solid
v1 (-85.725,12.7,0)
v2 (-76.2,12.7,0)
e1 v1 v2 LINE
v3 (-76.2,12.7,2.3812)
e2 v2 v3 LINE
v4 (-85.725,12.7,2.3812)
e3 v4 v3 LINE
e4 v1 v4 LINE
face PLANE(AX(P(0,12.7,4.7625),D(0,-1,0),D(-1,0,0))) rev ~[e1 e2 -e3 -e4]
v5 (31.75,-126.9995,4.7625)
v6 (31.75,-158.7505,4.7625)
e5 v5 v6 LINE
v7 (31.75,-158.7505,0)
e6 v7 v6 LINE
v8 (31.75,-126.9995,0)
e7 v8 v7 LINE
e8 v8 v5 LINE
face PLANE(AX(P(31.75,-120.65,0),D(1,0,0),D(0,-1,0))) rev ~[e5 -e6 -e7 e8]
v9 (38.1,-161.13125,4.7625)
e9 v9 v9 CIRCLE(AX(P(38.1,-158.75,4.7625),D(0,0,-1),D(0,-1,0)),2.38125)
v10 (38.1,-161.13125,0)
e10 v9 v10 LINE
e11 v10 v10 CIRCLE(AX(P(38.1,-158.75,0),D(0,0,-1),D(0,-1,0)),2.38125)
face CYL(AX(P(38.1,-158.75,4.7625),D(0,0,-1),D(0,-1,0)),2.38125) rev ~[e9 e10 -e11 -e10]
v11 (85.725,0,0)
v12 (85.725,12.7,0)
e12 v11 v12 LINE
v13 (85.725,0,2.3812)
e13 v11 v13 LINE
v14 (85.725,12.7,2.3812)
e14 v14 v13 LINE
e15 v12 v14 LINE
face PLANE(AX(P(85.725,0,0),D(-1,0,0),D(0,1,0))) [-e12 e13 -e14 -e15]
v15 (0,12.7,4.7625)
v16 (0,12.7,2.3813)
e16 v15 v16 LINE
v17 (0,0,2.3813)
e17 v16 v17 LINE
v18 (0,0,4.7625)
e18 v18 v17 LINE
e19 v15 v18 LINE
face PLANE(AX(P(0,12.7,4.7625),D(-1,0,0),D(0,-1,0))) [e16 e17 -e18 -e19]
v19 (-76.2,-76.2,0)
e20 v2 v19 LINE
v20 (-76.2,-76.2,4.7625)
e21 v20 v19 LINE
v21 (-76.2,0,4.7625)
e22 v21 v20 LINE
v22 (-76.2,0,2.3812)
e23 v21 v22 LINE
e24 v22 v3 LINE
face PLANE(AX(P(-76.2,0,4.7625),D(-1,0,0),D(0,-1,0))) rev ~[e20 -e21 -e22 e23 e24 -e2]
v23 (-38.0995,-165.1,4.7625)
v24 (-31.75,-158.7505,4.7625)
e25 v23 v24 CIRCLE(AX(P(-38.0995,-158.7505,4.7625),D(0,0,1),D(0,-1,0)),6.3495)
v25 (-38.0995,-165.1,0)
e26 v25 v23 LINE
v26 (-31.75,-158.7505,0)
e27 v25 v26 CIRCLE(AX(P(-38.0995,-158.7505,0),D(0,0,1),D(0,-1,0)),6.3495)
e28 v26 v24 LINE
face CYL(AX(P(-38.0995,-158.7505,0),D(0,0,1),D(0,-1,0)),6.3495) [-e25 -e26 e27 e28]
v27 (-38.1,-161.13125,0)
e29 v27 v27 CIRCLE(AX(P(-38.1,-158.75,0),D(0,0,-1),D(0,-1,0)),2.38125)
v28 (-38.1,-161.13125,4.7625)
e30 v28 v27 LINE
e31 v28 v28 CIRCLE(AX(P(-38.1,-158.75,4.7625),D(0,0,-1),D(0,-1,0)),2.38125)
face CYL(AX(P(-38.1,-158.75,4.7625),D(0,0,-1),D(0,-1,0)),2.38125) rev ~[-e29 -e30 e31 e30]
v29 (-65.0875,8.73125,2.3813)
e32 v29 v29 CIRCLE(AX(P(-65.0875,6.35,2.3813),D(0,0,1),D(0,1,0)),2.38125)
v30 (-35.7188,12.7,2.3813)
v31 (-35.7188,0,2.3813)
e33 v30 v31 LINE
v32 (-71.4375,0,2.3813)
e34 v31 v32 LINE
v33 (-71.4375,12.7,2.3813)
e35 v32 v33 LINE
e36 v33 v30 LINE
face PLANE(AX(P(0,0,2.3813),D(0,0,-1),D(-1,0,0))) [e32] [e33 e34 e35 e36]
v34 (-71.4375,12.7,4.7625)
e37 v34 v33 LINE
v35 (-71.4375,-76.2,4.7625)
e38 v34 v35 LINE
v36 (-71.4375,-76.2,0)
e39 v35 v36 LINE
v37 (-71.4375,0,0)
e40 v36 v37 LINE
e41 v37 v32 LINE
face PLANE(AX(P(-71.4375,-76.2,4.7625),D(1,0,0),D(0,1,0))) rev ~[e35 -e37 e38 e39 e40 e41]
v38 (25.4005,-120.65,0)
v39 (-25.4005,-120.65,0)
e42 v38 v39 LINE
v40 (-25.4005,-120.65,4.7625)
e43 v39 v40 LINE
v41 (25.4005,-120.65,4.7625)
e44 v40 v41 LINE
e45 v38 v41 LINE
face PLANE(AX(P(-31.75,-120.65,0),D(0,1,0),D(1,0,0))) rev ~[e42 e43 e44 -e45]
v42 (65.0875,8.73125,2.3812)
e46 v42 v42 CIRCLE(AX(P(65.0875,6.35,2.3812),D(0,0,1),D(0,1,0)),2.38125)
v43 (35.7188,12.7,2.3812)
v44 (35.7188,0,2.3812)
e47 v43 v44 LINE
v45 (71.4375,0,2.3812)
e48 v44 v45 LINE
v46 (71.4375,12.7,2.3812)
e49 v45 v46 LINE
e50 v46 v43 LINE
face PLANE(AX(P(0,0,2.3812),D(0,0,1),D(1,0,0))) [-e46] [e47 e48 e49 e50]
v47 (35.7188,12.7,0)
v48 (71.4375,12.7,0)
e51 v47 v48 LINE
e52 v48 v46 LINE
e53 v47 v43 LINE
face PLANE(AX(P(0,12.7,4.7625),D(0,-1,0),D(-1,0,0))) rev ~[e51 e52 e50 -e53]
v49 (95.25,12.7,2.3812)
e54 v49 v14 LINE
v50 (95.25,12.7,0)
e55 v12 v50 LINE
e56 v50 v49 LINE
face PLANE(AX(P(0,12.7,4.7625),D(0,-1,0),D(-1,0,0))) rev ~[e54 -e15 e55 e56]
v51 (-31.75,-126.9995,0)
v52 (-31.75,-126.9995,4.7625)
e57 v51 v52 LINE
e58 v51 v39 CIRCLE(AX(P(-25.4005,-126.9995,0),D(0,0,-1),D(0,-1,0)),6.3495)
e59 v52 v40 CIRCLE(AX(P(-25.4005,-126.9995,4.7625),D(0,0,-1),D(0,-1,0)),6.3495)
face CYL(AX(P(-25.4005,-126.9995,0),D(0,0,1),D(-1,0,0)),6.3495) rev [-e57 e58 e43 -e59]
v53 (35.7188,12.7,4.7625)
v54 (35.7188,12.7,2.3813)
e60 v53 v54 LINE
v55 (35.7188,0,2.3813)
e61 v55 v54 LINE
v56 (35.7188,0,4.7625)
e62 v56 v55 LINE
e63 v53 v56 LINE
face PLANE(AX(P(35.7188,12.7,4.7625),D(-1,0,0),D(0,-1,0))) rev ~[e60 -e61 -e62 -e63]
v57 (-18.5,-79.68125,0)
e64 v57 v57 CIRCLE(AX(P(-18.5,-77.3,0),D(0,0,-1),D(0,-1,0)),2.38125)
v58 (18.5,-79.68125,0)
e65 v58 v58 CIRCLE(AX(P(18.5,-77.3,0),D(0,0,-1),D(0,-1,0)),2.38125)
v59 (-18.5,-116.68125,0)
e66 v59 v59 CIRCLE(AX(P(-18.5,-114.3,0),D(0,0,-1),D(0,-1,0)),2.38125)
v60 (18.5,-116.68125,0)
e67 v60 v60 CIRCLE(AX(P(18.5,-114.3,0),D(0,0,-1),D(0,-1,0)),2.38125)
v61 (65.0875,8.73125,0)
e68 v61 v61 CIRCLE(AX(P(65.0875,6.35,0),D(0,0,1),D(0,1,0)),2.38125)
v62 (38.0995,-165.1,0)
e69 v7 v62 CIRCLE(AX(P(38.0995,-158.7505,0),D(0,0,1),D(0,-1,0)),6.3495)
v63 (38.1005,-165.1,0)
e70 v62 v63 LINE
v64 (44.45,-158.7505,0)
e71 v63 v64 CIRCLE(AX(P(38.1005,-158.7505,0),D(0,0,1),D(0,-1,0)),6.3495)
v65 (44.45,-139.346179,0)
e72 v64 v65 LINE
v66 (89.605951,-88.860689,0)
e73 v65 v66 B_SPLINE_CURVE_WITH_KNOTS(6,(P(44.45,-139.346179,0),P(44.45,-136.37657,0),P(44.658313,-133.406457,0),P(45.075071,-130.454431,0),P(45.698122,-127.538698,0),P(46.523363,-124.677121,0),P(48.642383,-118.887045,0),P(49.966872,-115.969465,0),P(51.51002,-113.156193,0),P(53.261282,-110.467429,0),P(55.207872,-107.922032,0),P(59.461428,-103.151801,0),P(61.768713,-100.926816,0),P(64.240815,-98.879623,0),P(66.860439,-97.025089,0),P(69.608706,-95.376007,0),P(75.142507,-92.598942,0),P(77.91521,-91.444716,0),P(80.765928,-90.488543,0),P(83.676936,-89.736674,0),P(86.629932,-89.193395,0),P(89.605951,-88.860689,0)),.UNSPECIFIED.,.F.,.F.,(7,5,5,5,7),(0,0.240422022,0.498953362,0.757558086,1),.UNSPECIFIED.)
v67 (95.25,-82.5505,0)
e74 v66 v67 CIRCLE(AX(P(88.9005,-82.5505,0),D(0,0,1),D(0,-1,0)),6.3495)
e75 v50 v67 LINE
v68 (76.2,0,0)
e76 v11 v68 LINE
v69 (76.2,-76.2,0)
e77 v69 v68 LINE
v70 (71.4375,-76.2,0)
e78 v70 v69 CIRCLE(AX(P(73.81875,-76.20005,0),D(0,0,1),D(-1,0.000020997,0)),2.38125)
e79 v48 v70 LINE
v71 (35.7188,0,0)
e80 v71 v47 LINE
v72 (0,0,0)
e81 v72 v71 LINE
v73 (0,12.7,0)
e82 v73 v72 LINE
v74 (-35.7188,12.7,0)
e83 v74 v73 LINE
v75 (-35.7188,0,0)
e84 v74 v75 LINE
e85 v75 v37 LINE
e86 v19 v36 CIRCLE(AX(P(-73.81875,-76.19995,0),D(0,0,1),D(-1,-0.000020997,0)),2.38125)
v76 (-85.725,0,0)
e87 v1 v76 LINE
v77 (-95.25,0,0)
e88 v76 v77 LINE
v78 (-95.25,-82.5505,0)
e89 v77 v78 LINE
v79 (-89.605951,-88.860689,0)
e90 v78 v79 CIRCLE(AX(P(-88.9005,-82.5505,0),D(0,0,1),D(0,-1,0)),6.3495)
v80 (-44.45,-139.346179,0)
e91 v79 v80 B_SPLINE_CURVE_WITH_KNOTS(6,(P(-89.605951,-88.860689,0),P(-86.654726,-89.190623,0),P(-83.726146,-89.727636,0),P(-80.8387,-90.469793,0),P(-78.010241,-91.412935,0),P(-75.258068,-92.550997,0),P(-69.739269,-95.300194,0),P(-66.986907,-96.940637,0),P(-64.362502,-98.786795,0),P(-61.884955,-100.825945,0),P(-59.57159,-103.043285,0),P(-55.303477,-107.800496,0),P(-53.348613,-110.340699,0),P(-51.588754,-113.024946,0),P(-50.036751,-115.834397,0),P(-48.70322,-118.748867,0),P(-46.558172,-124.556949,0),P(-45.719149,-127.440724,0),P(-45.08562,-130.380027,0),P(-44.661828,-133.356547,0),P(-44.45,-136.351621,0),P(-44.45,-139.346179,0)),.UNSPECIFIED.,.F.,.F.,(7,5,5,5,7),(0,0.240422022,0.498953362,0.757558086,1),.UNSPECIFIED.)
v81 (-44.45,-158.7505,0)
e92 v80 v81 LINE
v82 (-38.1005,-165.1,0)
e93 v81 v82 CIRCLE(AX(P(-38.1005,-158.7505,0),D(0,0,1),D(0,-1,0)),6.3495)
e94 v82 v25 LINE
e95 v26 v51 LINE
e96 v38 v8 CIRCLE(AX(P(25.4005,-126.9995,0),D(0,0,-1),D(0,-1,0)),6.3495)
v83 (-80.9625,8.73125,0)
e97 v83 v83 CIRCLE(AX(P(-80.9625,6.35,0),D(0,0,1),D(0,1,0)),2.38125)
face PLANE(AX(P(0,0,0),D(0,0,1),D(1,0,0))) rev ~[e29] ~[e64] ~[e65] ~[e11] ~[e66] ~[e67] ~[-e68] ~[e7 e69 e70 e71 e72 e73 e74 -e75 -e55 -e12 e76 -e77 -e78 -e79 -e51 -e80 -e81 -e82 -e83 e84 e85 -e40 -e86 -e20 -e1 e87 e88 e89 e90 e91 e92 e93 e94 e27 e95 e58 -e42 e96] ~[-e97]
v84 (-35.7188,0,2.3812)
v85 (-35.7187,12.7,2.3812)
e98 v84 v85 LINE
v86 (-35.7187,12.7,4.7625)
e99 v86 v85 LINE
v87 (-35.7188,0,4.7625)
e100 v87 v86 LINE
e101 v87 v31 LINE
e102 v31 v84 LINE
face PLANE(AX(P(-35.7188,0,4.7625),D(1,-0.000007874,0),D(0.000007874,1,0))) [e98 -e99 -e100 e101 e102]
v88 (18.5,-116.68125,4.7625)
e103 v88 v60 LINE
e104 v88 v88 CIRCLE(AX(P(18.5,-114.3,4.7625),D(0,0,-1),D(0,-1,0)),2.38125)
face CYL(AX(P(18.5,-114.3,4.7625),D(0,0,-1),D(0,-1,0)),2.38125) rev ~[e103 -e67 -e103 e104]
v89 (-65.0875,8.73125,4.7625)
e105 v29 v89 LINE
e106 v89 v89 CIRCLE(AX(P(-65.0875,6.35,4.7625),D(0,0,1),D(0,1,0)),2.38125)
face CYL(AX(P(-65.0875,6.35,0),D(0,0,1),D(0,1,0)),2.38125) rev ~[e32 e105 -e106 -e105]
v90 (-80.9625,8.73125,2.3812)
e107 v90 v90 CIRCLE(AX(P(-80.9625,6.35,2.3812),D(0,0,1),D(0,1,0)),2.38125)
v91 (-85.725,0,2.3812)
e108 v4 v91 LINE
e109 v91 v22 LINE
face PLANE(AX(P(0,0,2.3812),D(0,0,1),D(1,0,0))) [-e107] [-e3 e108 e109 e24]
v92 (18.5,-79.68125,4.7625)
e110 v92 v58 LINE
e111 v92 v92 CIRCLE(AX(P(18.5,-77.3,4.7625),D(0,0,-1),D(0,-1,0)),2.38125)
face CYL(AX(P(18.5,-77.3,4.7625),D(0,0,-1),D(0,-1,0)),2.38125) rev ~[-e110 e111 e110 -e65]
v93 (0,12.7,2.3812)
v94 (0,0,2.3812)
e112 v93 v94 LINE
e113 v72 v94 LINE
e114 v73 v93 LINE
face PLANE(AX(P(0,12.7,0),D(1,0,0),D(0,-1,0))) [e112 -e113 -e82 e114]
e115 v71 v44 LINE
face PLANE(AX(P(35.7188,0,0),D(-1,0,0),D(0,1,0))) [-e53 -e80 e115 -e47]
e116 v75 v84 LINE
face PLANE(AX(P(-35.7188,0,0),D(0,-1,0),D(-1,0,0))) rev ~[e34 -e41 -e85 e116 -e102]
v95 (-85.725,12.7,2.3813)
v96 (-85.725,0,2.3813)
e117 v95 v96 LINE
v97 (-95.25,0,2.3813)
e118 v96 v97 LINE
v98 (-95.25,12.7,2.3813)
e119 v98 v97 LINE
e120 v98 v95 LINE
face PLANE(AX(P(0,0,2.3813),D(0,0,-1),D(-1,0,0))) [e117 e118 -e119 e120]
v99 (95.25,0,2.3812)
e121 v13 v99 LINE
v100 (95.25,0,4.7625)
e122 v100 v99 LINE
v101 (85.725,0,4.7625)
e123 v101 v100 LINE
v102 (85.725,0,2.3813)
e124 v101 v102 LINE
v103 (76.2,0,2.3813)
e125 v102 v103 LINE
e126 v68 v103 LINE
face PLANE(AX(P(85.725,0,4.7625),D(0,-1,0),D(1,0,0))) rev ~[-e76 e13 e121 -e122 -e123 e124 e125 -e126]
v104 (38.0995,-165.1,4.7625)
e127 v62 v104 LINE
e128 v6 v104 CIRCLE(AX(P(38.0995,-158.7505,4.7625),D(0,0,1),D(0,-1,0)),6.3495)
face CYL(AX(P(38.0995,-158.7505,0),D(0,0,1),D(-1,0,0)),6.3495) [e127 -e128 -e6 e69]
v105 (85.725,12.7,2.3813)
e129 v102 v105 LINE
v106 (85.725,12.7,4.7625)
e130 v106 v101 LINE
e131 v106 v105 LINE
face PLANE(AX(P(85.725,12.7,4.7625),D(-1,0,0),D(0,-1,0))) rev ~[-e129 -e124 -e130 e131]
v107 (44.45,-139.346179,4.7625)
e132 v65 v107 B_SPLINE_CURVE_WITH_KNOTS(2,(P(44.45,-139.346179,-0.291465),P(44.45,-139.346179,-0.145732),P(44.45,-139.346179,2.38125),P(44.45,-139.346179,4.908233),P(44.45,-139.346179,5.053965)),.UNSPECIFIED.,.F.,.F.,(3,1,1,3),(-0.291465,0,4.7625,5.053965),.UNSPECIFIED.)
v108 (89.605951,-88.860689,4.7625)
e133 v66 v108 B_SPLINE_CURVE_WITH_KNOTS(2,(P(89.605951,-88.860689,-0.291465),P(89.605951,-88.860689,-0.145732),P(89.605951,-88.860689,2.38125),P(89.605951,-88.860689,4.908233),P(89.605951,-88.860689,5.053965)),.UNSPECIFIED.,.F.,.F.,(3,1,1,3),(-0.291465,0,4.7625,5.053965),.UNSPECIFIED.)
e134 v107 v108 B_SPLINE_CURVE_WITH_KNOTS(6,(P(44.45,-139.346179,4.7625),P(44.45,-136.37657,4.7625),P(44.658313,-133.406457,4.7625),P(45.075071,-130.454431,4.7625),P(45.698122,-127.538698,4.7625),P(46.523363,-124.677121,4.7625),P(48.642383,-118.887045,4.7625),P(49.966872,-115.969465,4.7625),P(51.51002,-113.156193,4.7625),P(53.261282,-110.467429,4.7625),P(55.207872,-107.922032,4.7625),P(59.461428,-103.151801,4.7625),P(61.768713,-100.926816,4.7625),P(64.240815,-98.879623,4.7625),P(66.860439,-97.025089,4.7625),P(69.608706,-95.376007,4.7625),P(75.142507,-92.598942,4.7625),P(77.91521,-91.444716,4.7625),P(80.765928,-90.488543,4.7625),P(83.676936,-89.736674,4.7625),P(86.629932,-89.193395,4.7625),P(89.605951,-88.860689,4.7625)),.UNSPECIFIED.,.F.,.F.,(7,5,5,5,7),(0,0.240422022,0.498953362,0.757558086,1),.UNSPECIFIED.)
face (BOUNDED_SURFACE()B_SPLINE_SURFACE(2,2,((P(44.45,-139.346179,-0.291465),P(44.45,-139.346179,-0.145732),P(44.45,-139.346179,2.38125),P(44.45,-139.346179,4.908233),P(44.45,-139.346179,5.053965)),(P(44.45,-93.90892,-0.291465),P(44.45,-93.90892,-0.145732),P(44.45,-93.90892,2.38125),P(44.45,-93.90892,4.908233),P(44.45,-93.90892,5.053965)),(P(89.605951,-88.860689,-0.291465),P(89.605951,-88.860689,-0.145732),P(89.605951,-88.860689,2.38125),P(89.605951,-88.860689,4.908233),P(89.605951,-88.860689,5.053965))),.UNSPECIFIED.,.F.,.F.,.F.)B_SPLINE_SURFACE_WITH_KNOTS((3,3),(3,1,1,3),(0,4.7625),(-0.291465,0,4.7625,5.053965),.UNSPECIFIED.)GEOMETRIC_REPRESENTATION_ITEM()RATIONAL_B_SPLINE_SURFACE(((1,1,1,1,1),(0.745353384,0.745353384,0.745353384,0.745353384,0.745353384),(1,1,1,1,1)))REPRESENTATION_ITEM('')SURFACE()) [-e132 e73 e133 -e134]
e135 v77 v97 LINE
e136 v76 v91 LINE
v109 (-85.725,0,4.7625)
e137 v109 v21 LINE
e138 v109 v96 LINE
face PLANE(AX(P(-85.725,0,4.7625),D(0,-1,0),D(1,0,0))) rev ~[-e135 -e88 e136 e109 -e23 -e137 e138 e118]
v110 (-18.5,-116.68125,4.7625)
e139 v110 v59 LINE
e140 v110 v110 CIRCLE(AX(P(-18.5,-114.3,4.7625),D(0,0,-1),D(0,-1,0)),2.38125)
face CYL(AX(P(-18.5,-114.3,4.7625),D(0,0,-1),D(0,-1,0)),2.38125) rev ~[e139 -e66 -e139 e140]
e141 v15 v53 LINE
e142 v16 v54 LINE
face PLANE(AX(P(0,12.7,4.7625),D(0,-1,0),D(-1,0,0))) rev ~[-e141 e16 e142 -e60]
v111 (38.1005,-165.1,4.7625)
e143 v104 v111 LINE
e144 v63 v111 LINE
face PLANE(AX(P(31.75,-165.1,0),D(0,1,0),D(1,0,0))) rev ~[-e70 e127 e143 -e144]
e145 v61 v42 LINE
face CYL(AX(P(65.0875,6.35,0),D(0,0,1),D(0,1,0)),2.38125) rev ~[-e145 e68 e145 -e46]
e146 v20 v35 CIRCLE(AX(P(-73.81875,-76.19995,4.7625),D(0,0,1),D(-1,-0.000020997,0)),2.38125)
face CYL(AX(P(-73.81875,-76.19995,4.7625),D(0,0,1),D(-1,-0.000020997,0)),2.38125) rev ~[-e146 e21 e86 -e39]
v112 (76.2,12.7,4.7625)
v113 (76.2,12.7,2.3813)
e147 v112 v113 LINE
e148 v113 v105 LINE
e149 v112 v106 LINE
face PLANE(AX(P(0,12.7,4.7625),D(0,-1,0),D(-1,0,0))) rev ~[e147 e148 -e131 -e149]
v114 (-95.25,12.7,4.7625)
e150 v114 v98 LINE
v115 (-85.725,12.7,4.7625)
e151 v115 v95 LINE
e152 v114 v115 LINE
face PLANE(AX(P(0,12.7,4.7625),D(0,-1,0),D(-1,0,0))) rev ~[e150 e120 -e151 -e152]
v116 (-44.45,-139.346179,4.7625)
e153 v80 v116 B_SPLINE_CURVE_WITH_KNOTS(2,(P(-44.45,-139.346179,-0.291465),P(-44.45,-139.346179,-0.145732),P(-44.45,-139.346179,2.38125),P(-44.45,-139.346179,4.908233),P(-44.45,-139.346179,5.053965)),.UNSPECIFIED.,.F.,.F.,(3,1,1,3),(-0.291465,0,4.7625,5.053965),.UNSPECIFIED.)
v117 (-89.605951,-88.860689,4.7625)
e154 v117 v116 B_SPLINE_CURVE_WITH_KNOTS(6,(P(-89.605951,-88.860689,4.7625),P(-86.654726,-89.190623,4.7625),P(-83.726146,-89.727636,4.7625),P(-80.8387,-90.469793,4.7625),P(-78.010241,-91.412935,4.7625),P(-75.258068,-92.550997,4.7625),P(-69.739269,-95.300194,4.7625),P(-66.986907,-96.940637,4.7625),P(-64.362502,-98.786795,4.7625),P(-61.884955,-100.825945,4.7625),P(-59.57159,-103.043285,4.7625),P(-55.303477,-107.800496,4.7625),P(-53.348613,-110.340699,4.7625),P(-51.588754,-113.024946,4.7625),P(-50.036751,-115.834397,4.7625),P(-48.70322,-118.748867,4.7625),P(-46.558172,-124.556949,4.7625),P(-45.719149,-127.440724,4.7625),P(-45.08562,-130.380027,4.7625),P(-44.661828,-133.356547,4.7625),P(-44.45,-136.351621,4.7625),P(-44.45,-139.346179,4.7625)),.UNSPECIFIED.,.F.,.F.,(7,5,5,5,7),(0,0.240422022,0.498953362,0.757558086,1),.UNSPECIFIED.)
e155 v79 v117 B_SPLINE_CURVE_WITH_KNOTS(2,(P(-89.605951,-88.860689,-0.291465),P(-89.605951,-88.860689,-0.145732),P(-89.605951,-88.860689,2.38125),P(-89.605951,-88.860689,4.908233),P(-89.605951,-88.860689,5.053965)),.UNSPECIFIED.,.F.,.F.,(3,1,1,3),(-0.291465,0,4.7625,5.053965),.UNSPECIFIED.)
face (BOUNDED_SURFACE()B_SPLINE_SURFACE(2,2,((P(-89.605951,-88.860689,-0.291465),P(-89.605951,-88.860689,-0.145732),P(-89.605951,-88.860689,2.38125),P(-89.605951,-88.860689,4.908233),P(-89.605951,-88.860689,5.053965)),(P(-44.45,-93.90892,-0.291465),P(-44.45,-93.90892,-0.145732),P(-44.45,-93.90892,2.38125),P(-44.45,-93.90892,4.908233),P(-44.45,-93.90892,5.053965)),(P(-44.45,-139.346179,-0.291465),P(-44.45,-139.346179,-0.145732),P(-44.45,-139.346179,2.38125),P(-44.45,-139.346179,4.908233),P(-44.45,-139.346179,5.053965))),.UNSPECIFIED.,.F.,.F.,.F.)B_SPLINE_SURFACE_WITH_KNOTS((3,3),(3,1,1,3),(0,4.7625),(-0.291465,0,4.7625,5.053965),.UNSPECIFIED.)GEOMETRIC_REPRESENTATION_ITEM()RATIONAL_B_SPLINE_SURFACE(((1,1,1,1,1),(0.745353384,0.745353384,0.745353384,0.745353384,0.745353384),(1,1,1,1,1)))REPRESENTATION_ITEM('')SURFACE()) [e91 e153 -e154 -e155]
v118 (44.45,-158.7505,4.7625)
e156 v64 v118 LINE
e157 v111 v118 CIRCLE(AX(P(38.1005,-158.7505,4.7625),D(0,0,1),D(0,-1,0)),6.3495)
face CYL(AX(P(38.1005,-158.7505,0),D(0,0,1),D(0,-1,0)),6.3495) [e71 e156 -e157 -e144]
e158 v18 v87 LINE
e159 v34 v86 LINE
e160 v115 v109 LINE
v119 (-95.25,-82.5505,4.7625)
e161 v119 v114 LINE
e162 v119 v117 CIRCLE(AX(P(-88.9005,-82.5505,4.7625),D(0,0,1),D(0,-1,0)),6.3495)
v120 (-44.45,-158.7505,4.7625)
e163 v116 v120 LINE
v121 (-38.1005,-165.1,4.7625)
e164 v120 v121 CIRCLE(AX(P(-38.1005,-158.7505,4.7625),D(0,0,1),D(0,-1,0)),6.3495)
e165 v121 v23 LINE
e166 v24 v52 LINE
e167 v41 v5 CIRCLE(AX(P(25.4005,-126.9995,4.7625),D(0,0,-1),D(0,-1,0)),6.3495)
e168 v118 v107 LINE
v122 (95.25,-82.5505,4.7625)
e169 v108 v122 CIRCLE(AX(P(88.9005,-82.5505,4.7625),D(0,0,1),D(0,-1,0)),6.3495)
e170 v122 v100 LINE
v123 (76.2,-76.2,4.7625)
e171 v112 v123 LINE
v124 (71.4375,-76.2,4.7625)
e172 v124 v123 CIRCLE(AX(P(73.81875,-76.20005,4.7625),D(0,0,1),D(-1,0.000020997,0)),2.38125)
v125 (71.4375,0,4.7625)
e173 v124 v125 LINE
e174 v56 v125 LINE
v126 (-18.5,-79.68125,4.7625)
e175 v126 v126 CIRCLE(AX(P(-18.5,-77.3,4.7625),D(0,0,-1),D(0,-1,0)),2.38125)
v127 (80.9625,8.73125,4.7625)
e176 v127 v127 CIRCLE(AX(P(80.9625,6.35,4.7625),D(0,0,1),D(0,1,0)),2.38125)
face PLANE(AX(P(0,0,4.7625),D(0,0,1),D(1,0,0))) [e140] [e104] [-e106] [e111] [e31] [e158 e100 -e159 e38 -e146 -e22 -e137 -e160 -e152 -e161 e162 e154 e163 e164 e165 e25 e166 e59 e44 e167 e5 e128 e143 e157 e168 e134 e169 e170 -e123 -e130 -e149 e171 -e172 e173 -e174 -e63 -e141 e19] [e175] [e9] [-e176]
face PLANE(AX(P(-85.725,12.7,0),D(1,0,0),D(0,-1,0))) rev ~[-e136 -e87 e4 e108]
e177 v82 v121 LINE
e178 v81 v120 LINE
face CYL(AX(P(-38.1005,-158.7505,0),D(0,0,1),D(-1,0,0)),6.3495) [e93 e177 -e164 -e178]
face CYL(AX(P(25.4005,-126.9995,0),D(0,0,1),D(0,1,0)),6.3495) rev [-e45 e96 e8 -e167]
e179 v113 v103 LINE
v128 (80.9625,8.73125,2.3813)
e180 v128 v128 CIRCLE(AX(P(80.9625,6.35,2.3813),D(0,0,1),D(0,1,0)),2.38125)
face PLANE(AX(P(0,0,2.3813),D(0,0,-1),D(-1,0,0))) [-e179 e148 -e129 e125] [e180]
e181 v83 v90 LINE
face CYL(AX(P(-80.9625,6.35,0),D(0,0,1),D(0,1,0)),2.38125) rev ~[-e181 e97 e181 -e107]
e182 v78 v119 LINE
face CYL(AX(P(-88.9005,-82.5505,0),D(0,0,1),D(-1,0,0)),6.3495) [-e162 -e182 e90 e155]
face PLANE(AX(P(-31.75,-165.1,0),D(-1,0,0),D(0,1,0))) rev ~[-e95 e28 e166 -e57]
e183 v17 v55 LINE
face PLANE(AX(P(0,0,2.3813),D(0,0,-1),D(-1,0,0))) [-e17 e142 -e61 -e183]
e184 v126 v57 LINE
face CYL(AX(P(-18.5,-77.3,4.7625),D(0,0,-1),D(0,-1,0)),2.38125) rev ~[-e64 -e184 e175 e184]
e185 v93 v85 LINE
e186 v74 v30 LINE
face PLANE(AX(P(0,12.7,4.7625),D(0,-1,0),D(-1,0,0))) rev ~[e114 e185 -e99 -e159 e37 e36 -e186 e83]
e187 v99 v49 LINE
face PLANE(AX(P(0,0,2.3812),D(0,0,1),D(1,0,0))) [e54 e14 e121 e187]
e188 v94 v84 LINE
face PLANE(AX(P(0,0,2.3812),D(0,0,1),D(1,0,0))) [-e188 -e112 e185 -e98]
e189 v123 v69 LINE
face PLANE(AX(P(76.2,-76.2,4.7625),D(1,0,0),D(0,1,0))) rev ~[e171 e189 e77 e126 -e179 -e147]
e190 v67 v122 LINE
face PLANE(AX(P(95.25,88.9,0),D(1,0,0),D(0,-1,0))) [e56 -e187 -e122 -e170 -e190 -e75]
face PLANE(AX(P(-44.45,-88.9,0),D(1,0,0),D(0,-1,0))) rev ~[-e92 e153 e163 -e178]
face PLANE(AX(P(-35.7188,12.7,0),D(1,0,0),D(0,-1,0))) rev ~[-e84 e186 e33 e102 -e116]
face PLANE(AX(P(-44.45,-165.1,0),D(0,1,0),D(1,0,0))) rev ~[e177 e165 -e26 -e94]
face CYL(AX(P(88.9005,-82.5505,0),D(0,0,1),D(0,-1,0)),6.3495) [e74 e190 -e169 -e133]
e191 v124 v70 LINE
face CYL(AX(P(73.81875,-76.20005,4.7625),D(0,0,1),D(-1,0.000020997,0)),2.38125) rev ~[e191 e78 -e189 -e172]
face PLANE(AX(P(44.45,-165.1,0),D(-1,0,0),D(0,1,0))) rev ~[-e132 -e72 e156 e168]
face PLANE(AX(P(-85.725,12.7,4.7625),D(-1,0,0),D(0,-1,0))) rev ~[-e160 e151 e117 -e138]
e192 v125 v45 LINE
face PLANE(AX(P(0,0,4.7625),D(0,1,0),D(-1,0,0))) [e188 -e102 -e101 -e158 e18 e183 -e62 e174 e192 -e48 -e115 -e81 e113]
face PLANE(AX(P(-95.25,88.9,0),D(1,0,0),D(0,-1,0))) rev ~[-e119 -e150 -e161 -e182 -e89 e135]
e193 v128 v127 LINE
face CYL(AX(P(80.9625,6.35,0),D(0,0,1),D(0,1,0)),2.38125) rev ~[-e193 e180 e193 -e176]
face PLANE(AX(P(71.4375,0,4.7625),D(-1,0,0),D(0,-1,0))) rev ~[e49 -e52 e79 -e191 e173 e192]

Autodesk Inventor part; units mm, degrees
ref_plane "YZ Plane" through (0, 0, 0) normal (1, 0, 0) x (0, 1, 0)
ref_plane "XZ Plane" through (0, 0, 0) normal (0, 1, 0) x (-1, 0, 0)
ref_plane "XY Plane" through (0, 0, 0) normal (0, 0, 1) x (1, 0, 0)
sketch "Sketch1" plane through (0, 0, 0) normal (0, 0, 1) x (1, 0, 0)
  line L0 (-133.35, 0) -> (133.35, 0) projected
  line L1 (0, -231.14) -> (0, 231.14) projected
  line L2 (-44.45, -165.1) -> (44.45, 165.1) construction
  line L3 (44.45, -165.1) -> (-44.45, 165.1) construction
  line L4 (-95.25, -88.9) -> (-44.45, -88.9)
  line L5 (-44.45, 88.9) -> (-95.25, 88.9)
  line L6 (-95.25, 88.9) -> (-95.25, -88.9)
  line L7 (-95.25, -88.9) -> (-44.45, 88.9) construction
  line L8 (-44.45, -88.9) -> (-95.25, 88.9) construction
  line L9 (95.25, -88.9) -> (44.45, -88.9)
  line L10 (44.45, 88.9) -> (95.25, 88.9)
  line L11 (95.25, 88.9) -> (95.25, -88.9)
  line L12 (95.25, -88.9) -> (44.45, 88.9) construction
  line L13 (44.45, -88.9) -> (95.25, 88.9) construction
  line L14 (44.45, -165.1) -> (44.45, -88.9)
  line L15 (44.45, 88.9) -> (44.45, 165.1)
  line L16 (-44.45, 165.1) -> (-44.45, 88.9)
  line L17 (-44.45, -88.9) -> (-44.45, -165.1)
  line L18 (-31.75, 120.65) -> (31.75, 120.65)
  line L19 (31.75, 120.65) -> (31.75, 165.1)
  line L20 (-31.75, 165.1) -> (-31.75, 120.65)
  line L21 (-31.75, 120.65) -> (31.75, 165.1) construction
  line L22 (31.75, 120.65) -> (-31.75, 165.1) construction
  line L23 (-31.75, -120.65) -> (31.75, -120.65)
  line L24 (31.75, -120.65) -> (31.75, -165.1)
  line L25 (-31.75, -165.1) -> (-31.75, -120.65)
  line L26 (-31.75, -120.65) -> (31.75, -165.1) construction
  line L27 (31.75, -120.65) -> (-31.75, -165.1) construction
  line L28 (44.45, 165.1) -> (31.75, 165.1)
  line L29 (-31.75, 165.1) -> (-44.45, 165.1)
  line L30 (-44.45, -165.1) -> (-31.75, -165.1)
  line L31 (31.75, -165.1) -> (44.45, -165.1)
  point P0 (0, 0)
  point P1 (-69.85, 0)
  point P2 (69.85, 0)
  point P3 (0, 142.875)
  point P4 (0, -142.875)
  dimension "d0" = 88.9
  dimension "d1" = 330.2
  dimension "d3" = 50.8
  dimension "d4" = 12.7
  dimension "d5" = 44.45
  dimension "d27" = 76.2
extrude "Extrusion1" add sketch "Sketch1" along normal blind 4.7625
sketch "Sketch2" plane through (0, 0, 4.7625) normal (0, 0, 1) x (1, 0, 0)
  line L0 (0, -231.14) -> (0, 231.14) projected
  line L1 (-133.35, 0) -> (133.35, 0) projected
  line L2 (31.75, -165.1) -> (44.45, -165.1) projected
  line L3 (44.45, -165.1) -> (44.45, -88.9) projected
  line L4 (-31.75, -120.65) -> (31.75, -120.65) projected
  point P0 (0, 0)
  point P1 (38.1, -158.75)
  point P2 (-38.1, -158.75)
  point P3 (38.1, 158.75)
  point P4 (-38.1, 158.75)
  point P5 (18.5, -114.3)
  point P6 (-18.5, -114.3)
  point P7 (-18.5, -77.3)
  point P8 (18.5, -77.3)
  point P9 (18.5, 77.3)
  point P10 (-18.5, 77.3)
  point P11 (18.5, 114.3)
  point P12 (-18.5, 114.3)
  dimension "d10" = 6.35
  dimension "d11" = 6.35
  dimension "d12" = 37
  dimension "d13" = 37
  dimension "d14" = 6.35
hole "Hole1" at (38.1, -158.75, 4.7625) at (-38.1, -158.75, 4.7625) at (38.1, 158.75, 4.7625) at (-38.1, 158.75, 4.7625) at (18.5, -114.3, 4.7625) at (-18.5, -114.3, 4.7625) at (-18.5, -77.3, 4.7625) at (18.5, -77.3, 4.7625) at (18.5, 77.3, 4.7625) at (-18.5, 77.3, 4.7625) at (18.5, 114.3, 4.7625) at (-18.5, 114.3, 4.7625) direction (0, 0, -1) diameter 4.7625 end through all
sketch "Sketch3" plane through (0, 0, 4.7625) normal (0, 0, 1) x (1, 0, 0)
  line L0 (73.8188, -76.2) -> (73.8187, 76.2) construction
  line L1 (76.2, -76.2) -> (76.2, 76.2)
  line L2 (71.4375, 76.2) -> (71.4375, -76.2)
  arc A0 (71.4375, -76.2) -> (76.2, -76.2) centre (73.8188, -76.2) ccw
  arc A1 (76.2, 76.2) -> (71.4375, 76.2) centre (73.8187, 76.2) ccw
  line L3 (-73.8188, -76.2) -> (-73.8188, 76.2) construction
  line L4 (-71.4375, -76.2) -> (-71.4375, 76.2)
  line L5 (-76.2, 76.2) -> (-76.2, -76.2)
  arc A2 (-76.2, -76.2) -> (-71.4375, -76.2) centre (-73.8188, -76.2) ccw
  arc A3 (-71.4375, 76.2) -> (-76.2, 76.2) centre (-73.8188, 76.2) ccw
  line L6 (0, -231.14) -> (0, 231.14) projected
  line L7 (-133.35, 0) -> (133.35, 0) projected
  line L8 (95.25, -88.9) -> (95.25, 88.9) projected
  point P0 (0, 0)
  point P1 (73.8187, 0)
  point P2 (-73.8187, 0)
  dimension "d22" = 152.4
  dimension "d23" = 4.7625
  dimension "d24" = 19.05
extrude "Extrusion2" cut sketch "Sketch3" along normal through all both and the other way through all
fillet "Fillet1" radius 6.35 16 edges at (44.45, 165.1, 2.3813) (31.75, 165.1, 2.3813) (95.25, 88.9, 2.3813) (31.75, 120.65, 2.3813) (-31.75, 120.65, 2.3813) (-31.75, 165.1, 2.3813) (-44.45, 165.1, 2.3813) (-95.25, 88.9, 2.3813) (-95.25, -88.9, 2.3813) (-44.45, -165.1, 2.3813) (-31.75, -165.1, 2.3813) (-31.75, -120.65, 2.3813) (31.75, -120.65, 2.3813) (31.75, -165.1, 2.3813) (44.45, -165.1, 2.3813) (95.25, -88.9, 2.3813)
fillet "Fillet2" radius 50.8 4 edges at (44.45, -88.9, 2.3813) (-44.45, -88.9, 2.3813) (-44.45, 88.9, 2.3813) (44.45, 88.9, 2.3813)
sketch "Sketch4" plane through (0, 0, 4.7625) normal (0, 0, 1) x (1, 0, 0)
  line L0 (-133.35, 0) -> (133.35, 0) projected
  line L1 (0, -231.14) -> (0, 231.14) projected
  line L2 (95.25, -82.55) -> (95.25, 82.55) projected
  line L3 (95.25, 12.7) -> (-95.25, 12.7)
  line L4 (-95.25, 12.7) -> (-95.25, 165.1)
  line L5 (-95.25, 165.1) -> (95.25, 165.1)
  line L6 (95.25, 165.1) -> (95.25, 12.7)
  arc A0 (-31.75, 158.75) -> (-44.45, 158.75) centre (-38.1, 158.75) ccw projected
  point P0 (0, 0)
  point P1 (-95.25, 82.55)
  dimension "d30" = 12.7
extrude "Extrusion3" cut sketch "Sketch4" along normal through all both and the other way through all contours L3 L4 L5 L1 | L1 L5 L6 L2 L3
sketch "Sketch5" plane through (0, 0, 4.7625) normal (0, 0, 1) x (1, 0, 0)
  line L0 (-95.25, 12.7) -> (-76.2, 12.7) projected
  line L1 (-76.2, 12.7) -> (-85.725, 12.7)
  line L2 (-85.725, 12.7) -> (-85.725, 0)
  line L3 (-85.725, 0) -> (-76.2, 0)
  line L4 (-76.2, 0) -> (-76.2, 12.7)
  line L5 (71.4375, 12.7) -> (-71.4375, 12.7) projected
  line L6 (0, 0) -> (-35.7188, 0)
  line L7 (-35.7188, 0) -> (-35.7187, 12.7)
  line L8 (-35.7187, 12.7) -> (0, 12.7)
  line L9 (0, 12.7) -> (0, 0)
  line L10 (71.4375, 12.7) -> (35.7188, 12.7)
  line L11 (35.7188, 12.7) -> (35.7188, 0)
  line L12 (35.7188, 0) -> (71.4375, 0)
  line L13 (71.4375, 0) -> (71.4375, 12.7)
  line L14 (95.25, -82.55) -> (95.25, 12.7) projected
  line L15 (95.25, 12.7) -> (85.725, 12.7)
  line L16 (85.725, 12.7) -> (85.725, 0)
  line L17 (85.725, 0) -> (95.25, 0)
  line L18 (95.25, 0) -> (95.25, 12.7)
  line L19 (95.25, 12.7) -> (76.2, 12.7) projected
  point P0 (-85.725, 12.7)
  dimension "d33" = 35.7188
  dimension "d34" = 35.7188
extrude "Extrusion4" cut sketch "Sketch5" against normal blind 2.3813
sketch "Sketch6" plane through (0, 0, 0) normal (0, 0, -1) x (-1, 0, 0)
  line L0 (95.25, 12.7) -> (95.25, -82.55) projected
  line L1 (85.725, 0) -> (95.25, 0)
  line L2 (95.25, 0) -> (95.25, 12.7)
  line L3 (95.25, 12.7) -> (85.725, 12.7)
  line L4 (85.725, 12.7) -> (85.725, 0)
  line L5 (71.4375, 12.7) -> (-71.4375, 12.7) projected
  line L6 (35.7188, 0) -> (71.4375, 0)
  line L7 (71.4375, 0) -> (71.4375, 12.7)
  line L8 (71.4375, 12.7) -> (35.7188, 12.7)
  line L9 (35.7188, 12.7) -> (35.7188, 0)
  line L10 (0, 0) -> (35.7188, 0) projected
  line L11 (0, 0) -> (-35.7188, 0)
  line L12 (-35.7188, 0) -> (-35.7188, 12.7)
  line L13 (-35.7188, 12.7) -> (0, 12.7)
  line L14 (0, 12.7) -> (0, 0)
  line L15 (-85.725, 0) -> (-85.725, 12.7) projected
  line L16 (-76.2, 12.7) -> (-76.2, -76.2) projected
  line L17 (-85.725, 0) -> (-76.2, 0)
  line L18 (-76.2, 0) -> (-76.2, 12.7)
  line L19 (-76.2, 12.7) -> (-85.725, 12.7)
  line L20 (-85.725, 12.7) -> (-85.725, 0)
extrude "Extrusion5" cut sketch "Sketch6" against normal blind 2.3813 contours L0 L1 L4 L3 | L7 L6 L9 L5 | L14 L11 L12 L5 | L15 L19 L16 L17
sketch "Sketch7" plane through (0, 0, 0) normal (0, 0, -1) x (-1, 0, 0)
  line L0 (71.4375, 12.7) -> (71.4375, 0) projected
  line L1 (0, -200.66) -> (0, 48.26) projected
  line L2 (-35.7188, 12.7) -> (-71.4375, 12.7) projected
  line L3 (-85.725, 0) -> (-85.725, 12.7) projected
  point P0 (0, 0)
  point P1 (80.9625, 6.35)
  point P2 (65.0875, 6.35)
  point P3 (-80.9625, 6.35)
  point P4 (-65.0875, 6.35)
  dimension "d39" = 6.35
  dimension "d40" = 6.35
  dimension "d41" = 4.7625
hole "Hole2" at (-80.9625, 6.35, 0) at (-65.0875, 6.35, 0) at (80.9625, 6.35, 0) at (65.0875, 6.35, 0) direction (0, 0, 1) diameter 4.7625 end through all
properties part number "RC_CAR_BASE_PLATE"
